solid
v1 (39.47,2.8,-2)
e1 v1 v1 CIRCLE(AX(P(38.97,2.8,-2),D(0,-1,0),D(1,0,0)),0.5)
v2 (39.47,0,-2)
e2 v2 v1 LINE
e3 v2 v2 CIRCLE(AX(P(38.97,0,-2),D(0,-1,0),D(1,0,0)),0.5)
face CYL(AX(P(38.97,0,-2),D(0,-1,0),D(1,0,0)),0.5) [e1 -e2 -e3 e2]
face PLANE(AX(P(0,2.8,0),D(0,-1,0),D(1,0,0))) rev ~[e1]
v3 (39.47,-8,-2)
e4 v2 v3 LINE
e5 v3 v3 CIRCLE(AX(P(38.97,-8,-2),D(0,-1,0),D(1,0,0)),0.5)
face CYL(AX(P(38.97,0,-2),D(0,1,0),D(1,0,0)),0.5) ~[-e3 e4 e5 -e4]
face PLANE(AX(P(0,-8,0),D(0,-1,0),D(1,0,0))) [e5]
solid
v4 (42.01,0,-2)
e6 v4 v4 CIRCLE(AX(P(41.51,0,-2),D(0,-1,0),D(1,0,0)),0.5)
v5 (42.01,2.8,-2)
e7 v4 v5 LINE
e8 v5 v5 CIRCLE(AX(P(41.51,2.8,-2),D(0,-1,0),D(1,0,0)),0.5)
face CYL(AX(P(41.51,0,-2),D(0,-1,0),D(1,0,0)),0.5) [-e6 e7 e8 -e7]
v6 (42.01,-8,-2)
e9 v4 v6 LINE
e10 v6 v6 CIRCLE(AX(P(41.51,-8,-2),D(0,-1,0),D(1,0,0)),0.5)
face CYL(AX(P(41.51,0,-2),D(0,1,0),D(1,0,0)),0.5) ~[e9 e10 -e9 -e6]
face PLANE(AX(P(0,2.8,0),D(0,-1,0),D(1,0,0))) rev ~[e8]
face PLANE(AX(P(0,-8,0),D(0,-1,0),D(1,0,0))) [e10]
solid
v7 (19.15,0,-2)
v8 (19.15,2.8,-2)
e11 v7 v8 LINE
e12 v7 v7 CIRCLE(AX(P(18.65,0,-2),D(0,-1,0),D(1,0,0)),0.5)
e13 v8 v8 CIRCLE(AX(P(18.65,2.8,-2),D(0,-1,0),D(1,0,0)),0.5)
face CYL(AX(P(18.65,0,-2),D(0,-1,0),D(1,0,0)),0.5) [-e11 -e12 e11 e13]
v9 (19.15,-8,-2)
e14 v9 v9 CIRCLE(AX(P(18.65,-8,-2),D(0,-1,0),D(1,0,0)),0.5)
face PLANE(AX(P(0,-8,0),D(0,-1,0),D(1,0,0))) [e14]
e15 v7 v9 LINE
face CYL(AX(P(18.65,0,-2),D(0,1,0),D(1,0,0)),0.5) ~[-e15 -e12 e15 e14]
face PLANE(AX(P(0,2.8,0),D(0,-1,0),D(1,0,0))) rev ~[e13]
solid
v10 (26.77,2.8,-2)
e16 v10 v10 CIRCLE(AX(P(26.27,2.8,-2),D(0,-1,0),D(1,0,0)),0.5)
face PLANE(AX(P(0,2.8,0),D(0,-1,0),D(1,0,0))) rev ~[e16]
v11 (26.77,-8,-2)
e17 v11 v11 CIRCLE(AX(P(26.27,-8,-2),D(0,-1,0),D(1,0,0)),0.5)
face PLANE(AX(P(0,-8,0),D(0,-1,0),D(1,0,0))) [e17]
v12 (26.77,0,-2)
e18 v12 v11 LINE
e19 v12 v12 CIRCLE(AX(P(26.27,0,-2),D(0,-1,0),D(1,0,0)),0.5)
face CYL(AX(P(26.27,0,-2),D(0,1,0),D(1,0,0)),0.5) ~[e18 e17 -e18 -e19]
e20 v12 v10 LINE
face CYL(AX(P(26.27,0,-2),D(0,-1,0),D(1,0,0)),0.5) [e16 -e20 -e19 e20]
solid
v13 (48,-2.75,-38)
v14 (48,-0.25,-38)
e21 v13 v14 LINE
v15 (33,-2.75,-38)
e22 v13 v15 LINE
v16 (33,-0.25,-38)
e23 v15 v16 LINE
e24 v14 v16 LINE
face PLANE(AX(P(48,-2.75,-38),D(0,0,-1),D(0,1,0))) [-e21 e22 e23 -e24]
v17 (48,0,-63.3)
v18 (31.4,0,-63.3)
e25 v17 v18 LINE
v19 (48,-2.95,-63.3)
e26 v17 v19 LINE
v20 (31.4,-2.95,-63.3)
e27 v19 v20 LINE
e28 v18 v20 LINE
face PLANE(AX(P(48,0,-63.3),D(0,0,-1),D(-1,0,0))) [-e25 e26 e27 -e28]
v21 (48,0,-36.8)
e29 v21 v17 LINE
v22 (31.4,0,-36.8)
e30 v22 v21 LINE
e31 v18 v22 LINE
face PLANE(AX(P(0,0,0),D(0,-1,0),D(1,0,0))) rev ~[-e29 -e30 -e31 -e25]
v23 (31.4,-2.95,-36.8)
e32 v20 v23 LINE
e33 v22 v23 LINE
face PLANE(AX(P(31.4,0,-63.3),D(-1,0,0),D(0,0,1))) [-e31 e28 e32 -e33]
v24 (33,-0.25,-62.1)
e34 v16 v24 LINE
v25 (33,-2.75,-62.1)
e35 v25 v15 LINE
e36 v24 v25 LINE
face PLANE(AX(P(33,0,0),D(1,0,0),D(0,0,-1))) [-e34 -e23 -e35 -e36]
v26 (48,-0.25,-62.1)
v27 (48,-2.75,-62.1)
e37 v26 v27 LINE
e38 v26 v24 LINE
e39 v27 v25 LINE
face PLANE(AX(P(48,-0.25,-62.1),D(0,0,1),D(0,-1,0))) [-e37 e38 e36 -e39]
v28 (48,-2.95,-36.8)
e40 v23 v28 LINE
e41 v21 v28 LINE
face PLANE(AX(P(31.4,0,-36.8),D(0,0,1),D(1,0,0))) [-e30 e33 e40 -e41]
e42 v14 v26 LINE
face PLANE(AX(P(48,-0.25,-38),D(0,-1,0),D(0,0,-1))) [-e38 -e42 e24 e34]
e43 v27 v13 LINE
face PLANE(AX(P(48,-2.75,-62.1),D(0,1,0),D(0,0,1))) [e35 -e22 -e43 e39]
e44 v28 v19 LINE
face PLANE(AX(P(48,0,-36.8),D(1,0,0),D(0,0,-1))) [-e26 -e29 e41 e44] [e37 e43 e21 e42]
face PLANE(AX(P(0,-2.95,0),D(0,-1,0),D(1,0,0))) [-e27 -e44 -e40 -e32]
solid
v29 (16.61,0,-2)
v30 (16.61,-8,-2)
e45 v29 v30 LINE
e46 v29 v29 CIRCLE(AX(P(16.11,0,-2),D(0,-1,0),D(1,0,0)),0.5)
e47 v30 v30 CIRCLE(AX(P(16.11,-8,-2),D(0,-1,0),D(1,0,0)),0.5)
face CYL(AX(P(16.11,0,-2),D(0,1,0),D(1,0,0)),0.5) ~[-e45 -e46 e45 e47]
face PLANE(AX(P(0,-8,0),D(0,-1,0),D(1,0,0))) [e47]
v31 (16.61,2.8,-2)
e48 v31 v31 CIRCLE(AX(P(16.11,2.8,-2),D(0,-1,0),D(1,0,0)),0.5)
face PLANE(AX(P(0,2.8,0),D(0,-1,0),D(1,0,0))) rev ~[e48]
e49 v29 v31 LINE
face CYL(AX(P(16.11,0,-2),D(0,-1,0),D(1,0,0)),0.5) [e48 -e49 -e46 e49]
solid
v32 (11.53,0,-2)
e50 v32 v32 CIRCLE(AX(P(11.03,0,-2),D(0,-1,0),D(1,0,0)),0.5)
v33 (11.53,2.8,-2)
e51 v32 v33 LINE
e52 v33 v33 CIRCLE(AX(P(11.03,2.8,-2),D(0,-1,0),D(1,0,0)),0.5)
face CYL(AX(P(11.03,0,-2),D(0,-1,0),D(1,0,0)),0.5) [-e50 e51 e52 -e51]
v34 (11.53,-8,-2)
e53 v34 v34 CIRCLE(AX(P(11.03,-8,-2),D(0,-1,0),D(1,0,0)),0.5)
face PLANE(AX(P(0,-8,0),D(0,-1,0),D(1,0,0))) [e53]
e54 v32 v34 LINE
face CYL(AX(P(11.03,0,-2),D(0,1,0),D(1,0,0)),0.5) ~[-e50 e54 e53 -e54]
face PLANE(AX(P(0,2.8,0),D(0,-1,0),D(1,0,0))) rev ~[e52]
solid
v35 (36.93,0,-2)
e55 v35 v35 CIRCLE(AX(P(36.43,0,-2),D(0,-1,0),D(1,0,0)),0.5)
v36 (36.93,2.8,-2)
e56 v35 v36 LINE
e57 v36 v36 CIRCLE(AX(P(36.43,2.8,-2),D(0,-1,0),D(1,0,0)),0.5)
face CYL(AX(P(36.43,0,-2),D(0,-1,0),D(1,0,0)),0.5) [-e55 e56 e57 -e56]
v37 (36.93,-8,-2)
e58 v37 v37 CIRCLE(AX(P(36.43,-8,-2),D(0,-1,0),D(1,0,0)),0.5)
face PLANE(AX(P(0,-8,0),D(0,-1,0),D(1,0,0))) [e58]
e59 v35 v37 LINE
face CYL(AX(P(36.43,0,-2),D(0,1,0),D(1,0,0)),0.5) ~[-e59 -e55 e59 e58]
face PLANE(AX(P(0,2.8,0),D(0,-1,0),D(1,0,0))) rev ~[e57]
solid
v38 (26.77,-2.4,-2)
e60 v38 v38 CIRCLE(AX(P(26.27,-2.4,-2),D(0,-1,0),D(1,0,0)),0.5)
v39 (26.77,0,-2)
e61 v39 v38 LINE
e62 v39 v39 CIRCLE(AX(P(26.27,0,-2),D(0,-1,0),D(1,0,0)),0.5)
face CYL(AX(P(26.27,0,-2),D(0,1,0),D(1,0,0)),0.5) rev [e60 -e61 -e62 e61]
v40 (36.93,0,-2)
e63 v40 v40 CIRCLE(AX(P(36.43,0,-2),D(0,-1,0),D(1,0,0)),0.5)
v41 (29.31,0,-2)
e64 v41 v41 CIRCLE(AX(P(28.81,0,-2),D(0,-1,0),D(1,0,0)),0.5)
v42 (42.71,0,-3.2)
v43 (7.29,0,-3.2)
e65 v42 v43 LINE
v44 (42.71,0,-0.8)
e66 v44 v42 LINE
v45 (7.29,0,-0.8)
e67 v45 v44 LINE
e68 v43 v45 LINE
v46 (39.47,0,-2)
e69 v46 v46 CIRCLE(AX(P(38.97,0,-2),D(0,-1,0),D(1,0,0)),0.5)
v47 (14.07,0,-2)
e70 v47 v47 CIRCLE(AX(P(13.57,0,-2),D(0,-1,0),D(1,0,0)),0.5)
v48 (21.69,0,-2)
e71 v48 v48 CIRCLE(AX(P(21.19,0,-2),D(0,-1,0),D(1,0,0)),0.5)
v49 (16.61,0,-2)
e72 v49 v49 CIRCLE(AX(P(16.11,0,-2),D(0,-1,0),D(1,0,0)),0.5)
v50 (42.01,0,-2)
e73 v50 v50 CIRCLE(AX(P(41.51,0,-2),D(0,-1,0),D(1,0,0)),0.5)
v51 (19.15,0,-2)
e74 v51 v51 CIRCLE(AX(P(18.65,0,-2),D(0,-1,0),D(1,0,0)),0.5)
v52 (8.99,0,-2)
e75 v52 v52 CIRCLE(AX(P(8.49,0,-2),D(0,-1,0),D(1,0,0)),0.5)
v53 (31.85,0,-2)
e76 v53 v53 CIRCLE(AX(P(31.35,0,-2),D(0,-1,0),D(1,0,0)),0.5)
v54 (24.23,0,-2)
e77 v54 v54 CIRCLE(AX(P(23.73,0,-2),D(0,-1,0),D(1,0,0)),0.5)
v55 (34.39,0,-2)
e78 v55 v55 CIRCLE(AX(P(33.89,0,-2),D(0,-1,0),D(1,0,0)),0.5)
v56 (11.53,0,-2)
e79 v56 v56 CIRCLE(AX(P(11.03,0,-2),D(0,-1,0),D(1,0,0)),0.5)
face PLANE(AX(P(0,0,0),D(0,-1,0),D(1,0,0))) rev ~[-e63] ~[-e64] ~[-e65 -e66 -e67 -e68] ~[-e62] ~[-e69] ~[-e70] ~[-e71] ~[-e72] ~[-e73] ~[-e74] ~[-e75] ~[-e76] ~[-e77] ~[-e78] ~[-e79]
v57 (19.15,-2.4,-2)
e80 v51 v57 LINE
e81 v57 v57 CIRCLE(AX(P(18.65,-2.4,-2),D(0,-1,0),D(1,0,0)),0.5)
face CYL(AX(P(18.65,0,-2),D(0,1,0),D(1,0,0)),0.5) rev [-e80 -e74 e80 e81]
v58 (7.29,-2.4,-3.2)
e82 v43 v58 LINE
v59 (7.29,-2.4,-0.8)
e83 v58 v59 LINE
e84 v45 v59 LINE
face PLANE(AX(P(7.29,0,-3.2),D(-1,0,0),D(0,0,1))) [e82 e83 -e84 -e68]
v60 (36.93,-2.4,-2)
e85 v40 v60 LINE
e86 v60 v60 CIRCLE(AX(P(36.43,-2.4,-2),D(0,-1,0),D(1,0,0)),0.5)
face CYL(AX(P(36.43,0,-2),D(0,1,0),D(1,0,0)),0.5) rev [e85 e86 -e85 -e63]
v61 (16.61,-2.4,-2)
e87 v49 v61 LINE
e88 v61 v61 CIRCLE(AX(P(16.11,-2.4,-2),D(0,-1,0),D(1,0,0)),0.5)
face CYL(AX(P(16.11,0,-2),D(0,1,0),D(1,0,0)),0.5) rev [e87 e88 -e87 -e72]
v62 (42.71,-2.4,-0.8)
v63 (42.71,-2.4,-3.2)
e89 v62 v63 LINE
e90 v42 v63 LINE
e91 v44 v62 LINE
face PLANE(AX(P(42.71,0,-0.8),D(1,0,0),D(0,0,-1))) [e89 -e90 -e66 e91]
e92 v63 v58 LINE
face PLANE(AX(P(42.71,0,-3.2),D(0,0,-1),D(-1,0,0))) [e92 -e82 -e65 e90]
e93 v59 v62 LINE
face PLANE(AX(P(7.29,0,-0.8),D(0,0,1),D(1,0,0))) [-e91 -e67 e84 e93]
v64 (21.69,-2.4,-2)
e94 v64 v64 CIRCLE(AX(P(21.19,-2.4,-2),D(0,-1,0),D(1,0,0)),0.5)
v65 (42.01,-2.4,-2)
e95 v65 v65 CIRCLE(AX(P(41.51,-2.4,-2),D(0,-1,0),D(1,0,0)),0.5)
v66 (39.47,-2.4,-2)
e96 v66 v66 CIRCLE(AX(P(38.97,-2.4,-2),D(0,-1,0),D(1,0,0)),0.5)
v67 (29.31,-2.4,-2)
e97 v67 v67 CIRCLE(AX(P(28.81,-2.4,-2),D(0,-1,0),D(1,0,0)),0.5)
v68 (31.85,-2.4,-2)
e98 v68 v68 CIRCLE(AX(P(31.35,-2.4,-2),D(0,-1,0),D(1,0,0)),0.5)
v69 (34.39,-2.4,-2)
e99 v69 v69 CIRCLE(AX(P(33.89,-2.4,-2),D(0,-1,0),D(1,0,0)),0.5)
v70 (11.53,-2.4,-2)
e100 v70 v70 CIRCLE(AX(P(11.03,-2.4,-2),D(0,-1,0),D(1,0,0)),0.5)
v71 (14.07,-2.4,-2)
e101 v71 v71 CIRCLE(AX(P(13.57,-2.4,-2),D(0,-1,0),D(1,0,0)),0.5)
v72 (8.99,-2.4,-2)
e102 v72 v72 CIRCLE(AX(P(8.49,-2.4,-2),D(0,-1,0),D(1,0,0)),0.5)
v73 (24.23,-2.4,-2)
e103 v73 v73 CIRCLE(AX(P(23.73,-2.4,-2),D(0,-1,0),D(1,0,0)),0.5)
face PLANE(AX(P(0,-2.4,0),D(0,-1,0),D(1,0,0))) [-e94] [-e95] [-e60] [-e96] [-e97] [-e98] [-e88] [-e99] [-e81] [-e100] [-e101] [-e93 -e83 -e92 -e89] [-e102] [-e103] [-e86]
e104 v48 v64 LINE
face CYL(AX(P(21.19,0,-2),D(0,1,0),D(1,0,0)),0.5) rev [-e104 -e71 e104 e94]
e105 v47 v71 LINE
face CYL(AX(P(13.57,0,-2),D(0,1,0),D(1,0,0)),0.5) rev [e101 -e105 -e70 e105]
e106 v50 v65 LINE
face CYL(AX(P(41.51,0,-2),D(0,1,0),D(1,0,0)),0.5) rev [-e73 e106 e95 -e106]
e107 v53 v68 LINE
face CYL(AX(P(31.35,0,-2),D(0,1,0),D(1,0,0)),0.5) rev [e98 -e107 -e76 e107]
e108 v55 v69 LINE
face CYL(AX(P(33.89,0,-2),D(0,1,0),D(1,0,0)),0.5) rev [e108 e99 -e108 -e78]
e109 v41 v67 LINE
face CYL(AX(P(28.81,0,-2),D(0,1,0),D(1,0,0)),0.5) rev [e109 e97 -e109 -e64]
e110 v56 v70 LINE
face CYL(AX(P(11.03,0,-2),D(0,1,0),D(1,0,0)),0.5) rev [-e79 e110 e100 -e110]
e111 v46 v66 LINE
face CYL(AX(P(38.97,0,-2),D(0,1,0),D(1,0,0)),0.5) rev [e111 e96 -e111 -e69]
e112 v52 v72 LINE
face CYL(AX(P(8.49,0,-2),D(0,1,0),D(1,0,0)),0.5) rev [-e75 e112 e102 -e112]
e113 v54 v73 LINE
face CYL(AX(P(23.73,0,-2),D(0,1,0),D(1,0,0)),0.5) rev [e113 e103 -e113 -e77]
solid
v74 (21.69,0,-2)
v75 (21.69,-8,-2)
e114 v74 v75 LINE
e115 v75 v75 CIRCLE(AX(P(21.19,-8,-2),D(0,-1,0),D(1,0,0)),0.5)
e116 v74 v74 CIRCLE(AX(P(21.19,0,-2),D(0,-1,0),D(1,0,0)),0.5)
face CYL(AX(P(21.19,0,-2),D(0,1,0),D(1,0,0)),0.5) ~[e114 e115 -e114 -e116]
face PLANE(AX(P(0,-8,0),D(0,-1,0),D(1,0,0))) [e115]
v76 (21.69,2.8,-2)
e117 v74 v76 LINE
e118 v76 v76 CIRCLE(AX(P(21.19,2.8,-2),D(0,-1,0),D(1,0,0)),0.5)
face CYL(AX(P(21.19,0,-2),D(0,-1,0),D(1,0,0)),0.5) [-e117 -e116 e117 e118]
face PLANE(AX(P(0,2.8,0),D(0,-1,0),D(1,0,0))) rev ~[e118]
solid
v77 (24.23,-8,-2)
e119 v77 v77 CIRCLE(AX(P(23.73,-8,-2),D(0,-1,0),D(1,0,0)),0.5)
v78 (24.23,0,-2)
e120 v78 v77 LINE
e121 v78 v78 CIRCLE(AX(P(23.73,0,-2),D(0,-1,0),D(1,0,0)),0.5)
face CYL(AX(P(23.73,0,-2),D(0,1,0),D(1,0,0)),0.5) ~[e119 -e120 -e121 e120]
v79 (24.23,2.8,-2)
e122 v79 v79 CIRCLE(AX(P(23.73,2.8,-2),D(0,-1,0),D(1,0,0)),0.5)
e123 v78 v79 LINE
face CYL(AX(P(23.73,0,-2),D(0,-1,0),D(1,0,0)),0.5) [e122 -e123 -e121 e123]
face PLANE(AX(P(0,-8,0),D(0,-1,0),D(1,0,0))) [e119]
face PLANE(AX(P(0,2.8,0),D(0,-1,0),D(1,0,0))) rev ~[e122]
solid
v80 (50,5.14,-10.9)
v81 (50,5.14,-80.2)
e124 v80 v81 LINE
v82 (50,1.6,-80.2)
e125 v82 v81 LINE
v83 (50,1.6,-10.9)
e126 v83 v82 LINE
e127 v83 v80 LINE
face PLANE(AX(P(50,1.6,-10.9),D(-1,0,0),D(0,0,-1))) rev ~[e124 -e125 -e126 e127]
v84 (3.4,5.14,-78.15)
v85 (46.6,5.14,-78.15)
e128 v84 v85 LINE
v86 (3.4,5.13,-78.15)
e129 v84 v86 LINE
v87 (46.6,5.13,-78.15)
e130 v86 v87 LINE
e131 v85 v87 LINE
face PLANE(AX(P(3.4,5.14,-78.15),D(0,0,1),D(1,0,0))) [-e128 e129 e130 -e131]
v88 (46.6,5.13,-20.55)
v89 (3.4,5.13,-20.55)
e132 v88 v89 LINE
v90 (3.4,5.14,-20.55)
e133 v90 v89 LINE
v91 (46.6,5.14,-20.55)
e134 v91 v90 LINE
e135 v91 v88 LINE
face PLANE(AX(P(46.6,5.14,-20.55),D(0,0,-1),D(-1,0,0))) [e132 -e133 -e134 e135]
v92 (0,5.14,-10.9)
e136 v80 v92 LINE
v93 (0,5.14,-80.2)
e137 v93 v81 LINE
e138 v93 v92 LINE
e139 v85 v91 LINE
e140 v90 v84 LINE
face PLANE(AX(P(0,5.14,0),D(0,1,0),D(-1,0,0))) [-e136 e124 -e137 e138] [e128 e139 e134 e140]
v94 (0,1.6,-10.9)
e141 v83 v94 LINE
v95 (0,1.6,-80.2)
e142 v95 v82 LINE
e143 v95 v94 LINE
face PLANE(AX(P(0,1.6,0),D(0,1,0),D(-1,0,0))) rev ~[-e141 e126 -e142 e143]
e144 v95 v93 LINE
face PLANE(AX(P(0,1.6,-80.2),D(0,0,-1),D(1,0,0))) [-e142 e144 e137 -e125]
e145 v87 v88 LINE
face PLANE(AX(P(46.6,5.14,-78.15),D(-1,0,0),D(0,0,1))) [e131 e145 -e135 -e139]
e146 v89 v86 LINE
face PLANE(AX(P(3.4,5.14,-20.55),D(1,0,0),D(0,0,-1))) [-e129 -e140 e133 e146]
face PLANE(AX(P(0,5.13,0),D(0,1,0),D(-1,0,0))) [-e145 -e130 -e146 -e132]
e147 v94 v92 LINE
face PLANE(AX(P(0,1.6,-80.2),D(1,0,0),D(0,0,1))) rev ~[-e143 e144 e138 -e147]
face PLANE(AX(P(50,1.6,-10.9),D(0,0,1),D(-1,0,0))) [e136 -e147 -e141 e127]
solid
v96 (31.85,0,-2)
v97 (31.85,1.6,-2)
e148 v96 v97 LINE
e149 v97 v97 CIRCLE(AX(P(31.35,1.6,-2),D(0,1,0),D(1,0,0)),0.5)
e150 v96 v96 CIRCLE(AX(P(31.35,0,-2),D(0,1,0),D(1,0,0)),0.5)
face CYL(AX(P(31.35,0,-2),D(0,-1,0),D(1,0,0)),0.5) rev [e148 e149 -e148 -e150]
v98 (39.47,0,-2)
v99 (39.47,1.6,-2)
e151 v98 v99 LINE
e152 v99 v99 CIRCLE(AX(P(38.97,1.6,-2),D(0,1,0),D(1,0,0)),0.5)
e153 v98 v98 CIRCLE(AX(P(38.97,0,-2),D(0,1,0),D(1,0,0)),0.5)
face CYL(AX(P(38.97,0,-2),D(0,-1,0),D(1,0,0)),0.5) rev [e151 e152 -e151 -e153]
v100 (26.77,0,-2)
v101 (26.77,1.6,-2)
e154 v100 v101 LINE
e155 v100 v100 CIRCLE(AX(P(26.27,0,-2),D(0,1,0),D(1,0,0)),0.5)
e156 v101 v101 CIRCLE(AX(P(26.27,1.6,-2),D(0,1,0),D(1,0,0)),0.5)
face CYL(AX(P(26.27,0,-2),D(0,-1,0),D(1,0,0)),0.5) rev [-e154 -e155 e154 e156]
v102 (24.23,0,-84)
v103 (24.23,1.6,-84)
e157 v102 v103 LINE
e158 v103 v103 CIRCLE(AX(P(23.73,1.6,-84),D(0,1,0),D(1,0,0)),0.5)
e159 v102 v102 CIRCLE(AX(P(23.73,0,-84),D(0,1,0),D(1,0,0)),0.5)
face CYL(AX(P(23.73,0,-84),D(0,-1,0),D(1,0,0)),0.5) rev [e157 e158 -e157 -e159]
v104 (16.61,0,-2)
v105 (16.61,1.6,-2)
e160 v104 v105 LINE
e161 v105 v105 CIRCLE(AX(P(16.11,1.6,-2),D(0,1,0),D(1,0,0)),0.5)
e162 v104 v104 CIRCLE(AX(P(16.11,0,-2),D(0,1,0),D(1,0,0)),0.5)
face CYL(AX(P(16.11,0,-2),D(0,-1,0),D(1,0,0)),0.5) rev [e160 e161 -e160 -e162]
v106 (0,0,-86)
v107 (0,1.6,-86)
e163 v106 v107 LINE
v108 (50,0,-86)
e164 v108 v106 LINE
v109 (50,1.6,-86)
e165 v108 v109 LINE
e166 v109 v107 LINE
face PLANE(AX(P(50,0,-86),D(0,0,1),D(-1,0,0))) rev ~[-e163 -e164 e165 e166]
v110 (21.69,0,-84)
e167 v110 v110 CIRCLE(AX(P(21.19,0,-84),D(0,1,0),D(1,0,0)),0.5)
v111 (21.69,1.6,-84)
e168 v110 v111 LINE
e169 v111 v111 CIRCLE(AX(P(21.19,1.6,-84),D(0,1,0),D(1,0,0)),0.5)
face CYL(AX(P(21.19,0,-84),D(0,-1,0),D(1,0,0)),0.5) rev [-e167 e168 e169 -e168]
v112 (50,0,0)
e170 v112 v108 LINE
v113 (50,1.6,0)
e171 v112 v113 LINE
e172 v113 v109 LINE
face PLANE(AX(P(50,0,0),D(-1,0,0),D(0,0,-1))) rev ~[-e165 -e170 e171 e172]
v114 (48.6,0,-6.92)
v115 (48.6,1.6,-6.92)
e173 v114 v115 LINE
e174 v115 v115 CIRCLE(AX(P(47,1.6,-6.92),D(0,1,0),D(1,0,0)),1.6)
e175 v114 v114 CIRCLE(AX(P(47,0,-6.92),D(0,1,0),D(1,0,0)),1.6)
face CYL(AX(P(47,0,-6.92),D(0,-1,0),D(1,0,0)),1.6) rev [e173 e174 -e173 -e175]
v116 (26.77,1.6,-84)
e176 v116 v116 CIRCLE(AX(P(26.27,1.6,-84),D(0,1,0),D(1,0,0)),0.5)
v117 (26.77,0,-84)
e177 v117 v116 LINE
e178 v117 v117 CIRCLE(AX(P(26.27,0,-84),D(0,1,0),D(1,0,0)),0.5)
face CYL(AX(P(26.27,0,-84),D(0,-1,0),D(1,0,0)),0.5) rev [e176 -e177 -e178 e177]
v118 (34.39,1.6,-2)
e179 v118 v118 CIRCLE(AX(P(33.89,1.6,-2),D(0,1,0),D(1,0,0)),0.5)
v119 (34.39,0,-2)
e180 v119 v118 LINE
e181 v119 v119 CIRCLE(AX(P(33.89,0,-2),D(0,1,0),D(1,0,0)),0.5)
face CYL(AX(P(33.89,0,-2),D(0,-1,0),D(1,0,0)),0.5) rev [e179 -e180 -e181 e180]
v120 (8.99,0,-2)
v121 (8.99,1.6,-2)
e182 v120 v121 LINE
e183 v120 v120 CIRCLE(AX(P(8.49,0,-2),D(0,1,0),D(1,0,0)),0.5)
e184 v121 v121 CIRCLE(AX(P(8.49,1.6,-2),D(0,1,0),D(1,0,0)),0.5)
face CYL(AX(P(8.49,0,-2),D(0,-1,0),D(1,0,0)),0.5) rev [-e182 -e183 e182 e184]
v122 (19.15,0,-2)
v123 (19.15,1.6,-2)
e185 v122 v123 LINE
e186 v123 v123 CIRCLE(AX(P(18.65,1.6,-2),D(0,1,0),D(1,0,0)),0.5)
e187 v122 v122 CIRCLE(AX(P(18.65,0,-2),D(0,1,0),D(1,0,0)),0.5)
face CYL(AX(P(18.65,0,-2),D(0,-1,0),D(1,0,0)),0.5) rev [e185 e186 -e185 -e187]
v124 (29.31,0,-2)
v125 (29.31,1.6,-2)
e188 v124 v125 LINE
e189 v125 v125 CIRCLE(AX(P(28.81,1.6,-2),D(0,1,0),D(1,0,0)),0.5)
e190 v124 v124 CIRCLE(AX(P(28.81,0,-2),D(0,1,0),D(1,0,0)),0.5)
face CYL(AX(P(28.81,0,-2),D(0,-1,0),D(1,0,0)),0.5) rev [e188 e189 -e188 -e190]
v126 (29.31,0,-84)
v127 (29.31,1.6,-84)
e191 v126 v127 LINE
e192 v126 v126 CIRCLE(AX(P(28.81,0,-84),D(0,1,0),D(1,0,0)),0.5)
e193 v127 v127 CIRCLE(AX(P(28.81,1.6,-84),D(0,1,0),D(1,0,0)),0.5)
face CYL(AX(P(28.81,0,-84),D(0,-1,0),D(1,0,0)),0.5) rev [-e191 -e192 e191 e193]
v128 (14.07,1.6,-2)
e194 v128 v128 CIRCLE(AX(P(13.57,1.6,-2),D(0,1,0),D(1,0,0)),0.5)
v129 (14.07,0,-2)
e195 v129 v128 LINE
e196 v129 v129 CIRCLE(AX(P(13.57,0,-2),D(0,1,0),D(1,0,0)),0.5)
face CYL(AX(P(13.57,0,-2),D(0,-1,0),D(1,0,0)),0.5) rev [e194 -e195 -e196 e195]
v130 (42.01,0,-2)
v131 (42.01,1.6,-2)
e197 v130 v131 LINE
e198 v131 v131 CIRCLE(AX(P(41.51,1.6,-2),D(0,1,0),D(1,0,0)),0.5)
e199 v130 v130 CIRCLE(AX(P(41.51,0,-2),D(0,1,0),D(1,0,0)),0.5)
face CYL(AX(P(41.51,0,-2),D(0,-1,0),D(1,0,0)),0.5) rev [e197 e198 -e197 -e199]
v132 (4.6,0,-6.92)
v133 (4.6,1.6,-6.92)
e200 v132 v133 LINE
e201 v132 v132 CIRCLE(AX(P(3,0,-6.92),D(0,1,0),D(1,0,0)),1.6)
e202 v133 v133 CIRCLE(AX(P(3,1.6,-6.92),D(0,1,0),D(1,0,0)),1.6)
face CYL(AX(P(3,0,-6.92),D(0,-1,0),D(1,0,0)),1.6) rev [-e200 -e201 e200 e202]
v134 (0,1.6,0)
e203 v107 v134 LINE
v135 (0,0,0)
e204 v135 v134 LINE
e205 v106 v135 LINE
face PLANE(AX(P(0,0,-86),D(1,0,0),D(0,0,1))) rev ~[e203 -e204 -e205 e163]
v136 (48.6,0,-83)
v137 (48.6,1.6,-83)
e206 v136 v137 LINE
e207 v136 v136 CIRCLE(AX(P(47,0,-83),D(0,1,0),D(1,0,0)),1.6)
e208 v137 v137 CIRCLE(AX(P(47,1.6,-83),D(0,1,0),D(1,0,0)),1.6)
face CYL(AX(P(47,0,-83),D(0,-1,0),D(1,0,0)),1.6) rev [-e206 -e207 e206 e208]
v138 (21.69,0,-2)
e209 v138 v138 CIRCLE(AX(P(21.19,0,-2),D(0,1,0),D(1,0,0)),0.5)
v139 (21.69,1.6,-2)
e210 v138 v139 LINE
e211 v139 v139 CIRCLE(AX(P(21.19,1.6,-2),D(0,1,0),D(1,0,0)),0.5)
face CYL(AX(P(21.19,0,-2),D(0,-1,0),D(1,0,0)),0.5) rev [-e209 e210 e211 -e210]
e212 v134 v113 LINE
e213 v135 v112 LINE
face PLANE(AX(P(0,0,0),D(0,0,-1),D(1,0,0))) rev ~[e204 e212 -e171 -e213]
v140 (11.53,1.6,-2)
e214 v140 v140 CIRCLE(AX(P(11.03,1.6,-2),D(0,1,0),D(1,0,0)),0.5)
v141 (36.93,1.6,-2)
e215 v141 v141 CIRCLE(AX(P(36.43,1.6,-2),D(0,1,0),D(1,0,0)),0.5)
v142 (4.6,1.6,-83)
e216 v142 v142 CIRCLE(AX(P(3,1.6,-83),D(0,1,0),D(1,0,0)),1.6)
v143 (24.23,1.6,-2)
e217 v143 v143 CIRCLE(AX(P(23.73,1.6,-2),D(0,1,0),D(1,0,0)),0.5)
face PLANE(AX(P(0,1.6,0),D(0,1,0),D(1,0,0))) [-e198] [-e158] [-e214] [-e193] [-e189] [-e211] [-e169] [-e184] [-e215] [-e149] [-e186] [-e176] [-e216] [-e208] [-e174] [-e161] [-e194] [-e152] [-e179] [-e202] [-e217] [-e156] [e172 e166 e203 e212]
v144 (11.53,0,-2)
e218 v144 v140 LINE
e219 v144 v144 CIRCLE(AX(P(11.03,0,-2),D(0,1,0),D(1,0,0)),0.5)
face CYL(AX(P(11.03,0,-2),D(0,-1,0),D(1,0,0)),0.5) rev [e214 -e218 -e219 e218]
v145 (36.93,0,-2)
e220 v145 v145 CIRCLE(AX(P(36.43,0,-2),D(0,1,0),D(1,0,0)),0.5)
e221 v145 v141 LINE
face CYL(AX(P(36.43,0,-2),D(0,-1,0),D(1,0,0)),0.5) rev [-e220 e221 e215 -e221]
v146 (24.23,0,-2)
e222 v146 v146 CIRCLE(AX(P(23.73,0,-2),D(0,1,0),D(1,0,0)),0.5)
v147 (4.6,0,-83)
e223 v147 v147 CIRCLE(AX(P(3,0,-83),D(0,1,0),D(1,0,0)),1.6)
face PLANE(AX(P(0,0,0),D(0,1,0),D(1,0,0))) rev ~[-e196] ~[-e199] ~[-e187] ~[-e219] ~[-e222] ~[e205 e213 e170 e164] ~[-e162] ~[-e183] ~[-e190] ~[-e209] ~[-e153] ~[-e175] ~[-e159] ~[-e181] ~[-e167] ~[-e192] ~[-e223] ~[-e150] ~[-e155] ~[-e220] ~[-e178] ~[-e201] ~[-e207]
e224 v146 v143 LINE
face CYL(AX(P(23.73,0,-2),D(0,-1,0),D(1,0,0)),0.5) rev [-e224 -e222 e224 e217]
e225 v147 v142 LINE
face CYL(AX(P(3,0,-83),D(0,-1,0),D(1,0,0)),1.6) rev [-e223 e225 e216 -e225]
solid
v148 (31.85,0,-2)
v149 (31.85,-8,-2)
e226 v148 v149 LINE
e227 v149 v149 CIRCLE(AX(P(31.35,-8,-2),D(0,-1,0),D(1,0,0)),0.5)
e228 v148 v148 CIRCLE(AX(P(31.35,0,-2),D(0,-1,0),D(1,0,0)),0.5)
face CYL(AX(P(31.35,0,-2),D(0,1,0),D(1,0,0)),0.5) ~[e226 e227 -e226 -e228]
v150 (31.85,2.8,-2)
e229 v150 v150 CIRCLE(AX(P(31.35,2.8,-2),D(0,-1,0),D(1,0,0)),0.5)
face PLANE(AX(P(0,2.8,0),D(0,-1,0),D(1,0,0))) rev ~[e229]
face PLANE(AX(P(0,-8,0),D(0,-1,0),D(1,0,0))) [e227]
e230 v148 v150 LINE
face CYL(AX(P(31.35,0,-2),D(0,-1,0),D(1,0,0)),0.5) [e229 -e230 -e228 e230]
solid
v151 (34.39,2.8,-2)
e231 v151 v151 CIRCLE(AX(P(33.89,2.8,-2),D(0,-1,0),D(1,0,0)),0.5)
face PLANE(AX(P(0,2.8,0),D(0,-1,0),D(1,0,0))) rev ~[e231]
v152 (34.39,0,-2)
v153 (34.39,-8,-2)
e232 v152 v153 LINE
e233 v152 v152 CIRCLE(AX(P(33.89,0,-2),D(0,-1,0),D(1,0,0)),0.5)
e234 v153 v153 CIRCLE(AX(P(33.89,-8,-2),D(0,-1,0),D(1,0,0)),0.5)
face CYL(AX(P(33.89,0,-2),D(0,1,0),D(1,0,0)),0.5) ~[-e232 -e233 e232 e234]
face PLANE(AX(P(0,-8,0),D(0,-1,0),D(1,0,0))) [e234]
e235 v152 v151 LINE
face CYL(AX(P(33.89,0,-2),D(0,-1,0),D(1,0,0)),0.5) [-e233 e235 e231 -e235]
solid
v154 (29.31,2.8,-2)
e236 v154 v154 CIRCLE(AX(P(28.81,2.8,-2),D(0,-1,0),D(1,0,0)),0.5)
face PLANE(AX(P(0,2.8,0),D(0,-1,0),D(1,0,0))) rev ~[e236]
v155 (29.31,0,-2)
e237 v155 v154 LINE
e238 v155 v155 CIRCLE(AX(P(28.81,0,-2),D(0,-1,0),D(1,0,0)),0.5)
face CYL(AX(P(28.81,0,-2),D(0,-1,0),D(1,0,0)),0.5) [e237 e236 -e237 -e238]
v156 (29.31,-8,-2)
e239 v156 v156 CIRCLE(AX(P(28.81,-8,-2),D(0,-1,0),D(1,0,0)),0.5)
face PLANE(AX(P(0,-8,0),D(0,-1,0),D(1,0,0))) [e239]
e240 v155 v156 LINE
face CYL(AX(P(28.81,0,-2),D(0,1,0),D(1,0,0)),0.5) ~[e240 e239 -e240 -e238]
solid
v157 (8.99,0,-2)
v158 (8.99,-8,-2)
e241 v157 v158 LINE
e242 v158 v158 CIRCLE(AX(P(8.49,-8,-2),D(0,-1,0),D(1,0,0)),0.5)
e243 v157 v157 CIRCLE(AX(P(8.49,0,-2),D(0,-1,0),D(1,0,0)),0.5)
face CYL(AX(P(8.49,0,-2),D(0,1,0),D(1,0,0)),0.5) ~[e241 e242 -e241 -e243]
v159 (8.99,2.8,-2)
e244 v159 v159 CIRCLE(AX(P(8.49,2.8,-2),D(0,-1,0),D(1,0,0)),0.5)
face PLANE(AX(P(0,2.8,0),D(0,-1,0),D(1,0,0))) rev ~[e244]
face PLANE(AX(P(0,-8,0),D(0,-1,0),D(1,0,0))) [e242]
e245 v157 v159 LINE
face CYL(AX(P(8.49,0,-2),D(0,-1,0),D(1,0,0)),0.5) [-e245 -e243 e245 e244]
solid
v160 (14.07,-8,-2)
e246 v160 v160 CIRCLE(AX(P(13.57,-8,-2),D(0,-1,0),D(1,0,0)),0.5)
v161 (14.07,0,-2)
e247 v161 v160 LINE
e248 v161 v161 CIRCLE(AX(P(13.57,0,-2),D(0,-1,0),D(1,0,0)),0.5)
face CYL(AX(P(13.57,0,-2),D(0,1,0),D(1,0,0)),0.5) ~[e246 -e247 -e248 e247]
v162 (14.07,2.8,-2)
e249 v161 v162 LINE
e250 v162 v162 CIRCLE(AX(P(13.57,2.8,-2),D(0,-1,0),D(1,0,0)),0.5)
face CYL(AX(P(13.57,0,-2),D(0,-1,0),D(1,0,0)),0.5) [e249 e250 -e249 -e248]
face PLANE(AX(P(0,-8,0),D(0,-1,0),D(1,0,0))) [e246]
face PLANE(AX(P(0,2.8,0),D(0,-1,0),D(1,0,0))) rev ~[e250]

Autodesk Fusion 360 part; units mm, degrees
sketch "Skizze1" plane through (0, 0, 0) normal (0, 1, 0) x (1, 0, 0)
  line L0 (0, 0) -> (50, 0)
  line L1 (50, 0) -> (50, 86)
  line L2 (50, 86) -> (0, 86)
  line L3 (0, 86) -> (0, 0)
  circle A0 centre (3, 83) radius 1.6
  circle A1 centre (47, 83) radius 1.6
  circle A2 centre (47, 6.92) radius 1.6
  circle A3 centre (3, 6.92) radius 1.6
  circle A4 centre (8.49, 2) radius 0.5
  circle A5 centre (11.03, 2) radius 0.5
  circle A6 centre (13.57, 2) radius 0.5
  circle A7 centre (16.11, 2) radius 0.5
  circle A8 centre (18.65, 2) radius 0.5
  circle A9 centre (21.19, 2) radius 0.5
  circle A10 centre (23.73, 2) radius 0.5
  circle A11 centre (26.27, 2) radius 0.5
  circle A12 centre (28.81, 2) radius 0.5
  circle A13 centre (31.35, 2) radius 0.5
  circle A14 centre (33.89, 2) radius 0.5
  circle A15 centre (36.43, 2) radius 0.5
  circle A16 centre (38.97, 2) radius 0.5
  circle A17 centre (41.51, 2) radius 0.5
  line L4 (25, 86) -> (25, 0) construction
  line L5 (0, 84) -> (50, 84) construction
  circle A18 centre (23.73, 84) radius 0.5
  circle A19 centre (26.27, 84) radius 0.5
  circle A20 centre (28.81, 84) radius 0.5
  circle A21 centre (21.19, 84) radius 0.5
  dimension "d1" = 50
  dimension "d2" = 86
  dimension "d3" = 3.2
  dimension "d4" = 3.2
  dimension "d5" = 3.2
  dimension "d6" = 3.2
  dimension "d7" = 6.92
  dimension "d8" = 6.92
  dimension "d9" = 3
  dimension "d10" = 3
  dimension "d11" = 3
  dimension "d12" = 3
  dimension "d13" = 3
  dimension "d14" = 3
  dimension "d15" = 1
  dimension "d16" = 8.49
  dimension "d17" = 2
  dimension "d20" = 2.54
  dimension "d21" = 0
  dimension "d22" = 8.49
  dimension "d36" = 2
  dimension "d37" = 1
  dimension "d38" = 1
  dimension "d39" = 1
  dimension "d40" = 1
  dimension "d41" = 1.27
  dimension "d42" = 1.27
  dimension "d43" = 2.54
  dimension "d44" = 2.54
extrude "Extrusion1" add sketch "Skizze1" along normal blind 1.6 makes body 1
sketch "Skizze2" plane through (0, 1.6, 0) normal (0, 1, 0) x (-1, 0, 0)
  circle A0 centre (-16.11, -2) radius 0.5
  circle A1 centre (-18.65, -2) radius 0.5
  circle A2 centre (-21.19, -2) radius 0.5
  circle A3 centre (-23.73, -2) radius 0.5
  circle A4 centre (-26.27, -2) radius 0.5
  circle A5 centre (-13.57, -2) radius 0.5
  circle A6 centre (-11.03, -2) radius 0.5
  circle A7 centre (-8.49, -2) radius 0.5
  circle A8 centre (-3, -6.92) radius 1.6
  circle A9 centre (-47, -6.92) radius 1.6
  circle A10 centre (-47, -83) radius 1.6
  circle A11 centre (-3, -83) radius 1.6
  circle A12 centre (-28.81, -2) radius 0.5
  circle A13 centre (-33.89, -2) radius 0.5
  circle A14 centre (-36.43, -2) radius 0.5
  circle A15 centre (-38.97, -2) radius 0.5
  circle A16 centre (-41.51, -2) radius 0.5
  circle A17 centre (-31.35, -2) radius 0.5
  line L0 (0, -86) -> (0, 0)
  line L1 (0, 0) -> (-50, 0)
  line L2 (-50, 0) -> (-50, -86)
  line L3 (-50, -86) -> (0, -86)
  line L4 (0, -80.2) -> (-50, -80.2)
  line L5 (-50, -80.2) -> (-50, -10.9)
  line L6 (-50, -10.9) -> (0, -10.9)
  line L7 (0, -10.9) -> (0, -80.2)
  circle A18 centre (-28.81, -84) radius 0.5
  circle A19 centre (-23.73, -84) radius 0.5
  circle A20 centre (-26.27, -84) radius 0.5
  circle A21 centre (-21.19, -84) radius 0.5
  dimension "d25" = 5.8
  dimension "d26" = 10.9
extrude "Extrusion2" add sketch "Skizze2" along normal blind 3.54 separate body contours L0 L2 L4 L5 L6 L7 makes body 2
sketch "Skizze3" plane through (0, 5.14, 0) normal (0, 1, 0) x (-1, 0, 0)
  line L0 (0, -10.9) -> (-50, -10.9)
  line L1 (-50, -10.9) -> (-50, -80.2)
  line L2 (-50, -80.2) -> (0, -80.2)
  line L3 (0, -80.2) -> (0, -10.9)
  line L4 (-3.4, -78.15) -> (-46.6, -78.15)
  line L5 (-46.6, -78.15) -> (-46.6, -20.55)
  line L6 (-46.6, -20.55) -> (-3.4, -20.55)
  line L7 (-3.4, -20.55) -> (-3.4, -78.15)
  line L8 (-25, -80.2) -> (-25, -10.9) construction
  dimension "d29" = 43.2
  dimension "d30" = 57.6
  dimension "d31" = 21.6
  dimension "d32" = 2.05
  dimension "d33" = 3.4
extrude "Extrusion3" cut sketch "Skizze3" against normal blind 0.01 contours L4 L5 L6 L7 bodies 2
sketch "Skizze4" plane through (0, 0, 0) normal (0, -1, 0) x (1, 0, 0)
  circle A0 centre (28.81, -84) radius 0.5
  circle A1 centre (41.51, -2) radius 0.5
  circle A2 centre (23.73, -84) radius 0.5
  circle A3 centre (26.27, -84) radius 0.5
  circle A4 centre (23.73, -2) radius 0.5
  circle A5 centre (21.19, -84) radius 0.5
  circle A6 centre (26.27, -2) radius 0.5
  circle A7 centre (28.81, -2) radius 0.5
  circle A8 centre (31.35, -2) radius 0.5
  circle A9 centre (33.89, -2) radius 0.5
  circle A10 centre (36.43, -2) radius 0.5
  circle A11 centre (38.97, -2) radius 0.5
  circle A12 centre (21.19, -2) radius 0.5
  circle A13 centre (18.65, -2) radius 0.5
  circle A14 centre (16.11, -2) radius 0.5
  circle A15 centre (13.57, -2) radius 0.5
  circle A16 centre (11.03, -2) radius 0.5
  circle A17 centre (8.49, -2) radius 0.5
  circle A18 centre (3, -6.92) radius 1.6
  circle A19 centre (47, -6.92) radius 1.6
  circle A20 centre (47, -83) radius 1.6
  circle A21 centre (3, -83) radius 1.6
  line L0 (0, 0) -> (0, -86)
  line L1 (0, -86) -> (50, -86)
  line L2 (50, -86) -> (50, 0)
  line L3 (50, 0) -> (0, 0)
  line L4 (31.4, -36.8) -> (48, -36.8)
  line L5 (48, -36.8) -> (48, -63.3)
  line L6 (48, -63.3) -> (31.4, -63.3)
  line L7 (31.4, -63.3) -> (31.4, -36.8)
  dimension "d45" = 16.6
  dimension "d46" = 2
  dimension "d47" = 36.8
  dimension "d48" = 22.7
extrude "Extrusion4" add sketch "Skizze4" along normal blind 2.95 separate body contours L4 L5 L6 L7 makes body 3
sketch "Skizze5" plane through (48, 0, 0) normal (1, 0, 0) x (0, 0, -1)
  line L0 (63.3, 0) -> (36.8, 0)
  line L1 (36.8, 0) -> (36.8, -2.95)
  line L2 (36.8, -2.95) -> (63.3, -2.95)
  line L3 (63.3, -2.95) -> (63.3, 0)
  line L4 (38, -0.25) -> (62.1, -0.25)
  line L5 (62.1, -0.25) -> (62.1, -2.75)
  line L6 (62.1, -2.75) -> (38, -2.75)
  line L7 (38, -2.75) -> (38, -0.25)
  dimension "d51" = 0.2
  dimension "d52" = 1.2
  dimension "d53" = 1.2
  dimension "d54" = 2.5
extrude "Extrusion5" cut sketch "Skizze5" against normal blind 15 contours L4 L5 L6 L7 bodies 3
sketch "Skizze6" plane through (0, 0, 0) normal (0, -1, 0) x (1, 0, 0)
  circle A0 centre (28.81, -84) radius 0.5
  circle A1 centre (41.51, -2) radius 0.5
  circle A2 centre (23.73, -84) radius 0.5
  circle A3 centre (26.27, -84) radius 0.5
  circle A4 centre (23.73, -2) radius 0.5
  circle A5 centre (21.19, -84) radius 0.5
  circle A6 centre (26.27, -2) radius 0.5
  circle A7 centre (28.81, -2) radius 0.5
  circle A8 centre (31.35, -2) radius 0.5
  circle A9 centre (33.89, -2) radius 0.5
  circle A10 centre (36.43, -2) radius 0.5
  circle A11 centre (38.97, -2) radius 0.5
  circle A12 centre (21.19, -2) radius 0.5
  circle A13 centre (18.65, -2) radius 0.5
  circle A14 centre (16.11, -2) radius 0.5
  circle A15 centre (13.57, -2) radius 0.5
  circle A16 centre (11.03, -2) radius 0.5
  circle A17 centre (8.49, -2) radius 0.5
  circle A18 centre (3, -6.92) radius 1.6
  circle A19 centre (47, -6.92) radius 1.6
  circle A20 centre (47, -83) radius 1.6
  circle A21 centre (3, -83) radius 1.6
  line L0 (0, 0) -> (0, -86)
  line L1 (0, -86) -> (50, -86)
  line L2 (50, -86) -> (50, 0)
  line L3 (50, 0) -> (0, 0)
  circle A22 centre (8.49, -2) radius 0.5
  circle A23 centre (11.03, -2) radius 0.5
  circle A24 centre (13.57, -2) radius 0.5
  circle A25 centre (16.11, -2) radius 0.5
  circle A26 centre (18.65, -2) radius 0.5
  circle A27 centre (21.19, -2) radius 0.5
  circle A28 centre (23.73, -2) radius 0.5
  circle A29 centre (26.27, -2) radius 0.5
  circle A30 centre (28.81, -2) radius 0.5
  circle A31 centre (31.35, -2) radius 0.5
  circle A32 centre (33.89, -2) radius 0.5
  circle A33 centre (36.43, -2) radius 0.5
  circle A34 centre (38.97, -2) radius 0.5
  circle A35 centre (41.51, -2) radius 0.5
extrude "Extrusion6" add sketch "Skizze6" along normal blind 8 and the other way blind 2.8 separate body contours A1 A35 | A4 A28 | A6 A29 | A7 A30 | A8 A31 | A9 A32 | A10 A33 | A11 A34 | A12 A27 | A13 A26 | A14 A25 | A15 A24 | A16 A23 | A17 A22 makes body 4 at (36.0809, -5.3333, -1.6421) makes body 5 at (26.4054, -5.3333, -1.5187) makes body 6 at (16.4408, -2.6667, -2.3749) makes body 7 at (8.9894, -5.3333, -2.0249) makes body 8 at (18.3009, -5.3333, -1.6421) makes body 9 at (28.9454, -5.3333, -1.5187) makes body 10 at (38.6209, -5.3333, -1.6421) makes body 11 at (33.5409, -5.3333, -1.6421) makes body 12 at (23.8654, -5.3333, -1.5187) makes body 13 at (14.0694, -5.3333, -2.0249) makes body 14 at (11.5294, -5.3333, -2.0249) makes body 15 at (21.3254, -5.3333, -1.5187) makes body 16 at (31.8494, -5.3333, -2.0249) makes body 17 at (41.1609, -5.3333, -1.6421)
sketch "Skizze7" plane through (0, 0, 0) normal (0, -1, 0) x (1, 0, 0)
  circle A0 centre (28.81, -84) radius 0.5
  circle A1 centre (41.51, -2) radius 0.5
  circle A2 centre (23.73, -84) radius 0.5
  circle A3 centre (26.27, -84) radius 0.5
  circle A4 centre (23.73, -2) radius 0.5
  circle A5 centre (21.19, -84) radius 0.5
  circle A6 centre (26.27, -2) radius 0.5
  circle A7 centre (28.81, -2) radius 0.5
  circle A8 centre (31.35, -2) radius 0.5
  circle A9 centre (33.89, -2) radius 0.5
  circle A10 centre (36.43, -2) radius 0.5
  circle A11 centre (38.97, -2) radius 0.5
  circle A12 centre (21.19, -2) radius 0.5
  circle A13 centre (18.65, -2) radius 0.5
  circle A14 centre (16.11, -2) radius 0.5
  circle A15 centre (13.57, -2) radius 0.5
  circle A16 centre (11.03, -2) radius 0.5
  circle A17 centre (8.49, -2) radius 0.5
  circle A18 centre (3, -6.92) radius 1.6
  circle A19 centre (47, -6.92) radius 1.6
  circle A20 centre (47, -83) radius 1.6
  circle A21 centre (3, -83) radius 1.6
  line L0 (0, 0) -> (0, -86)
  line L1 (0, -86) -> (50, -86)
  line L2 (50, -86) -> (50, 0)
  line L3 (50, 0) -> (0, 0)
  line L4 (7.29, -0.8) -> (42.71, -0.8)
  line L5 (42.71, -0.8) -> (42.71, -3.2)
  line L6 (42.71, -3.2) -> (7.29, -3.2)
  line L7 (7.29, -3.2) -> (7.29, -0.8)
  dimension "d59" = 1.2
  dimension "d60" = 1.2
  dimension "d61" = 1.2
  dimension "d62" = 1.2
extrude "Extrusion7" add sketch "Skizze7" along normal blind 2.4 separate body contours L4 L5 L6 L7 makes body 18
equation "d31 = ( 43.2 / 2 ) * 1 mm"
